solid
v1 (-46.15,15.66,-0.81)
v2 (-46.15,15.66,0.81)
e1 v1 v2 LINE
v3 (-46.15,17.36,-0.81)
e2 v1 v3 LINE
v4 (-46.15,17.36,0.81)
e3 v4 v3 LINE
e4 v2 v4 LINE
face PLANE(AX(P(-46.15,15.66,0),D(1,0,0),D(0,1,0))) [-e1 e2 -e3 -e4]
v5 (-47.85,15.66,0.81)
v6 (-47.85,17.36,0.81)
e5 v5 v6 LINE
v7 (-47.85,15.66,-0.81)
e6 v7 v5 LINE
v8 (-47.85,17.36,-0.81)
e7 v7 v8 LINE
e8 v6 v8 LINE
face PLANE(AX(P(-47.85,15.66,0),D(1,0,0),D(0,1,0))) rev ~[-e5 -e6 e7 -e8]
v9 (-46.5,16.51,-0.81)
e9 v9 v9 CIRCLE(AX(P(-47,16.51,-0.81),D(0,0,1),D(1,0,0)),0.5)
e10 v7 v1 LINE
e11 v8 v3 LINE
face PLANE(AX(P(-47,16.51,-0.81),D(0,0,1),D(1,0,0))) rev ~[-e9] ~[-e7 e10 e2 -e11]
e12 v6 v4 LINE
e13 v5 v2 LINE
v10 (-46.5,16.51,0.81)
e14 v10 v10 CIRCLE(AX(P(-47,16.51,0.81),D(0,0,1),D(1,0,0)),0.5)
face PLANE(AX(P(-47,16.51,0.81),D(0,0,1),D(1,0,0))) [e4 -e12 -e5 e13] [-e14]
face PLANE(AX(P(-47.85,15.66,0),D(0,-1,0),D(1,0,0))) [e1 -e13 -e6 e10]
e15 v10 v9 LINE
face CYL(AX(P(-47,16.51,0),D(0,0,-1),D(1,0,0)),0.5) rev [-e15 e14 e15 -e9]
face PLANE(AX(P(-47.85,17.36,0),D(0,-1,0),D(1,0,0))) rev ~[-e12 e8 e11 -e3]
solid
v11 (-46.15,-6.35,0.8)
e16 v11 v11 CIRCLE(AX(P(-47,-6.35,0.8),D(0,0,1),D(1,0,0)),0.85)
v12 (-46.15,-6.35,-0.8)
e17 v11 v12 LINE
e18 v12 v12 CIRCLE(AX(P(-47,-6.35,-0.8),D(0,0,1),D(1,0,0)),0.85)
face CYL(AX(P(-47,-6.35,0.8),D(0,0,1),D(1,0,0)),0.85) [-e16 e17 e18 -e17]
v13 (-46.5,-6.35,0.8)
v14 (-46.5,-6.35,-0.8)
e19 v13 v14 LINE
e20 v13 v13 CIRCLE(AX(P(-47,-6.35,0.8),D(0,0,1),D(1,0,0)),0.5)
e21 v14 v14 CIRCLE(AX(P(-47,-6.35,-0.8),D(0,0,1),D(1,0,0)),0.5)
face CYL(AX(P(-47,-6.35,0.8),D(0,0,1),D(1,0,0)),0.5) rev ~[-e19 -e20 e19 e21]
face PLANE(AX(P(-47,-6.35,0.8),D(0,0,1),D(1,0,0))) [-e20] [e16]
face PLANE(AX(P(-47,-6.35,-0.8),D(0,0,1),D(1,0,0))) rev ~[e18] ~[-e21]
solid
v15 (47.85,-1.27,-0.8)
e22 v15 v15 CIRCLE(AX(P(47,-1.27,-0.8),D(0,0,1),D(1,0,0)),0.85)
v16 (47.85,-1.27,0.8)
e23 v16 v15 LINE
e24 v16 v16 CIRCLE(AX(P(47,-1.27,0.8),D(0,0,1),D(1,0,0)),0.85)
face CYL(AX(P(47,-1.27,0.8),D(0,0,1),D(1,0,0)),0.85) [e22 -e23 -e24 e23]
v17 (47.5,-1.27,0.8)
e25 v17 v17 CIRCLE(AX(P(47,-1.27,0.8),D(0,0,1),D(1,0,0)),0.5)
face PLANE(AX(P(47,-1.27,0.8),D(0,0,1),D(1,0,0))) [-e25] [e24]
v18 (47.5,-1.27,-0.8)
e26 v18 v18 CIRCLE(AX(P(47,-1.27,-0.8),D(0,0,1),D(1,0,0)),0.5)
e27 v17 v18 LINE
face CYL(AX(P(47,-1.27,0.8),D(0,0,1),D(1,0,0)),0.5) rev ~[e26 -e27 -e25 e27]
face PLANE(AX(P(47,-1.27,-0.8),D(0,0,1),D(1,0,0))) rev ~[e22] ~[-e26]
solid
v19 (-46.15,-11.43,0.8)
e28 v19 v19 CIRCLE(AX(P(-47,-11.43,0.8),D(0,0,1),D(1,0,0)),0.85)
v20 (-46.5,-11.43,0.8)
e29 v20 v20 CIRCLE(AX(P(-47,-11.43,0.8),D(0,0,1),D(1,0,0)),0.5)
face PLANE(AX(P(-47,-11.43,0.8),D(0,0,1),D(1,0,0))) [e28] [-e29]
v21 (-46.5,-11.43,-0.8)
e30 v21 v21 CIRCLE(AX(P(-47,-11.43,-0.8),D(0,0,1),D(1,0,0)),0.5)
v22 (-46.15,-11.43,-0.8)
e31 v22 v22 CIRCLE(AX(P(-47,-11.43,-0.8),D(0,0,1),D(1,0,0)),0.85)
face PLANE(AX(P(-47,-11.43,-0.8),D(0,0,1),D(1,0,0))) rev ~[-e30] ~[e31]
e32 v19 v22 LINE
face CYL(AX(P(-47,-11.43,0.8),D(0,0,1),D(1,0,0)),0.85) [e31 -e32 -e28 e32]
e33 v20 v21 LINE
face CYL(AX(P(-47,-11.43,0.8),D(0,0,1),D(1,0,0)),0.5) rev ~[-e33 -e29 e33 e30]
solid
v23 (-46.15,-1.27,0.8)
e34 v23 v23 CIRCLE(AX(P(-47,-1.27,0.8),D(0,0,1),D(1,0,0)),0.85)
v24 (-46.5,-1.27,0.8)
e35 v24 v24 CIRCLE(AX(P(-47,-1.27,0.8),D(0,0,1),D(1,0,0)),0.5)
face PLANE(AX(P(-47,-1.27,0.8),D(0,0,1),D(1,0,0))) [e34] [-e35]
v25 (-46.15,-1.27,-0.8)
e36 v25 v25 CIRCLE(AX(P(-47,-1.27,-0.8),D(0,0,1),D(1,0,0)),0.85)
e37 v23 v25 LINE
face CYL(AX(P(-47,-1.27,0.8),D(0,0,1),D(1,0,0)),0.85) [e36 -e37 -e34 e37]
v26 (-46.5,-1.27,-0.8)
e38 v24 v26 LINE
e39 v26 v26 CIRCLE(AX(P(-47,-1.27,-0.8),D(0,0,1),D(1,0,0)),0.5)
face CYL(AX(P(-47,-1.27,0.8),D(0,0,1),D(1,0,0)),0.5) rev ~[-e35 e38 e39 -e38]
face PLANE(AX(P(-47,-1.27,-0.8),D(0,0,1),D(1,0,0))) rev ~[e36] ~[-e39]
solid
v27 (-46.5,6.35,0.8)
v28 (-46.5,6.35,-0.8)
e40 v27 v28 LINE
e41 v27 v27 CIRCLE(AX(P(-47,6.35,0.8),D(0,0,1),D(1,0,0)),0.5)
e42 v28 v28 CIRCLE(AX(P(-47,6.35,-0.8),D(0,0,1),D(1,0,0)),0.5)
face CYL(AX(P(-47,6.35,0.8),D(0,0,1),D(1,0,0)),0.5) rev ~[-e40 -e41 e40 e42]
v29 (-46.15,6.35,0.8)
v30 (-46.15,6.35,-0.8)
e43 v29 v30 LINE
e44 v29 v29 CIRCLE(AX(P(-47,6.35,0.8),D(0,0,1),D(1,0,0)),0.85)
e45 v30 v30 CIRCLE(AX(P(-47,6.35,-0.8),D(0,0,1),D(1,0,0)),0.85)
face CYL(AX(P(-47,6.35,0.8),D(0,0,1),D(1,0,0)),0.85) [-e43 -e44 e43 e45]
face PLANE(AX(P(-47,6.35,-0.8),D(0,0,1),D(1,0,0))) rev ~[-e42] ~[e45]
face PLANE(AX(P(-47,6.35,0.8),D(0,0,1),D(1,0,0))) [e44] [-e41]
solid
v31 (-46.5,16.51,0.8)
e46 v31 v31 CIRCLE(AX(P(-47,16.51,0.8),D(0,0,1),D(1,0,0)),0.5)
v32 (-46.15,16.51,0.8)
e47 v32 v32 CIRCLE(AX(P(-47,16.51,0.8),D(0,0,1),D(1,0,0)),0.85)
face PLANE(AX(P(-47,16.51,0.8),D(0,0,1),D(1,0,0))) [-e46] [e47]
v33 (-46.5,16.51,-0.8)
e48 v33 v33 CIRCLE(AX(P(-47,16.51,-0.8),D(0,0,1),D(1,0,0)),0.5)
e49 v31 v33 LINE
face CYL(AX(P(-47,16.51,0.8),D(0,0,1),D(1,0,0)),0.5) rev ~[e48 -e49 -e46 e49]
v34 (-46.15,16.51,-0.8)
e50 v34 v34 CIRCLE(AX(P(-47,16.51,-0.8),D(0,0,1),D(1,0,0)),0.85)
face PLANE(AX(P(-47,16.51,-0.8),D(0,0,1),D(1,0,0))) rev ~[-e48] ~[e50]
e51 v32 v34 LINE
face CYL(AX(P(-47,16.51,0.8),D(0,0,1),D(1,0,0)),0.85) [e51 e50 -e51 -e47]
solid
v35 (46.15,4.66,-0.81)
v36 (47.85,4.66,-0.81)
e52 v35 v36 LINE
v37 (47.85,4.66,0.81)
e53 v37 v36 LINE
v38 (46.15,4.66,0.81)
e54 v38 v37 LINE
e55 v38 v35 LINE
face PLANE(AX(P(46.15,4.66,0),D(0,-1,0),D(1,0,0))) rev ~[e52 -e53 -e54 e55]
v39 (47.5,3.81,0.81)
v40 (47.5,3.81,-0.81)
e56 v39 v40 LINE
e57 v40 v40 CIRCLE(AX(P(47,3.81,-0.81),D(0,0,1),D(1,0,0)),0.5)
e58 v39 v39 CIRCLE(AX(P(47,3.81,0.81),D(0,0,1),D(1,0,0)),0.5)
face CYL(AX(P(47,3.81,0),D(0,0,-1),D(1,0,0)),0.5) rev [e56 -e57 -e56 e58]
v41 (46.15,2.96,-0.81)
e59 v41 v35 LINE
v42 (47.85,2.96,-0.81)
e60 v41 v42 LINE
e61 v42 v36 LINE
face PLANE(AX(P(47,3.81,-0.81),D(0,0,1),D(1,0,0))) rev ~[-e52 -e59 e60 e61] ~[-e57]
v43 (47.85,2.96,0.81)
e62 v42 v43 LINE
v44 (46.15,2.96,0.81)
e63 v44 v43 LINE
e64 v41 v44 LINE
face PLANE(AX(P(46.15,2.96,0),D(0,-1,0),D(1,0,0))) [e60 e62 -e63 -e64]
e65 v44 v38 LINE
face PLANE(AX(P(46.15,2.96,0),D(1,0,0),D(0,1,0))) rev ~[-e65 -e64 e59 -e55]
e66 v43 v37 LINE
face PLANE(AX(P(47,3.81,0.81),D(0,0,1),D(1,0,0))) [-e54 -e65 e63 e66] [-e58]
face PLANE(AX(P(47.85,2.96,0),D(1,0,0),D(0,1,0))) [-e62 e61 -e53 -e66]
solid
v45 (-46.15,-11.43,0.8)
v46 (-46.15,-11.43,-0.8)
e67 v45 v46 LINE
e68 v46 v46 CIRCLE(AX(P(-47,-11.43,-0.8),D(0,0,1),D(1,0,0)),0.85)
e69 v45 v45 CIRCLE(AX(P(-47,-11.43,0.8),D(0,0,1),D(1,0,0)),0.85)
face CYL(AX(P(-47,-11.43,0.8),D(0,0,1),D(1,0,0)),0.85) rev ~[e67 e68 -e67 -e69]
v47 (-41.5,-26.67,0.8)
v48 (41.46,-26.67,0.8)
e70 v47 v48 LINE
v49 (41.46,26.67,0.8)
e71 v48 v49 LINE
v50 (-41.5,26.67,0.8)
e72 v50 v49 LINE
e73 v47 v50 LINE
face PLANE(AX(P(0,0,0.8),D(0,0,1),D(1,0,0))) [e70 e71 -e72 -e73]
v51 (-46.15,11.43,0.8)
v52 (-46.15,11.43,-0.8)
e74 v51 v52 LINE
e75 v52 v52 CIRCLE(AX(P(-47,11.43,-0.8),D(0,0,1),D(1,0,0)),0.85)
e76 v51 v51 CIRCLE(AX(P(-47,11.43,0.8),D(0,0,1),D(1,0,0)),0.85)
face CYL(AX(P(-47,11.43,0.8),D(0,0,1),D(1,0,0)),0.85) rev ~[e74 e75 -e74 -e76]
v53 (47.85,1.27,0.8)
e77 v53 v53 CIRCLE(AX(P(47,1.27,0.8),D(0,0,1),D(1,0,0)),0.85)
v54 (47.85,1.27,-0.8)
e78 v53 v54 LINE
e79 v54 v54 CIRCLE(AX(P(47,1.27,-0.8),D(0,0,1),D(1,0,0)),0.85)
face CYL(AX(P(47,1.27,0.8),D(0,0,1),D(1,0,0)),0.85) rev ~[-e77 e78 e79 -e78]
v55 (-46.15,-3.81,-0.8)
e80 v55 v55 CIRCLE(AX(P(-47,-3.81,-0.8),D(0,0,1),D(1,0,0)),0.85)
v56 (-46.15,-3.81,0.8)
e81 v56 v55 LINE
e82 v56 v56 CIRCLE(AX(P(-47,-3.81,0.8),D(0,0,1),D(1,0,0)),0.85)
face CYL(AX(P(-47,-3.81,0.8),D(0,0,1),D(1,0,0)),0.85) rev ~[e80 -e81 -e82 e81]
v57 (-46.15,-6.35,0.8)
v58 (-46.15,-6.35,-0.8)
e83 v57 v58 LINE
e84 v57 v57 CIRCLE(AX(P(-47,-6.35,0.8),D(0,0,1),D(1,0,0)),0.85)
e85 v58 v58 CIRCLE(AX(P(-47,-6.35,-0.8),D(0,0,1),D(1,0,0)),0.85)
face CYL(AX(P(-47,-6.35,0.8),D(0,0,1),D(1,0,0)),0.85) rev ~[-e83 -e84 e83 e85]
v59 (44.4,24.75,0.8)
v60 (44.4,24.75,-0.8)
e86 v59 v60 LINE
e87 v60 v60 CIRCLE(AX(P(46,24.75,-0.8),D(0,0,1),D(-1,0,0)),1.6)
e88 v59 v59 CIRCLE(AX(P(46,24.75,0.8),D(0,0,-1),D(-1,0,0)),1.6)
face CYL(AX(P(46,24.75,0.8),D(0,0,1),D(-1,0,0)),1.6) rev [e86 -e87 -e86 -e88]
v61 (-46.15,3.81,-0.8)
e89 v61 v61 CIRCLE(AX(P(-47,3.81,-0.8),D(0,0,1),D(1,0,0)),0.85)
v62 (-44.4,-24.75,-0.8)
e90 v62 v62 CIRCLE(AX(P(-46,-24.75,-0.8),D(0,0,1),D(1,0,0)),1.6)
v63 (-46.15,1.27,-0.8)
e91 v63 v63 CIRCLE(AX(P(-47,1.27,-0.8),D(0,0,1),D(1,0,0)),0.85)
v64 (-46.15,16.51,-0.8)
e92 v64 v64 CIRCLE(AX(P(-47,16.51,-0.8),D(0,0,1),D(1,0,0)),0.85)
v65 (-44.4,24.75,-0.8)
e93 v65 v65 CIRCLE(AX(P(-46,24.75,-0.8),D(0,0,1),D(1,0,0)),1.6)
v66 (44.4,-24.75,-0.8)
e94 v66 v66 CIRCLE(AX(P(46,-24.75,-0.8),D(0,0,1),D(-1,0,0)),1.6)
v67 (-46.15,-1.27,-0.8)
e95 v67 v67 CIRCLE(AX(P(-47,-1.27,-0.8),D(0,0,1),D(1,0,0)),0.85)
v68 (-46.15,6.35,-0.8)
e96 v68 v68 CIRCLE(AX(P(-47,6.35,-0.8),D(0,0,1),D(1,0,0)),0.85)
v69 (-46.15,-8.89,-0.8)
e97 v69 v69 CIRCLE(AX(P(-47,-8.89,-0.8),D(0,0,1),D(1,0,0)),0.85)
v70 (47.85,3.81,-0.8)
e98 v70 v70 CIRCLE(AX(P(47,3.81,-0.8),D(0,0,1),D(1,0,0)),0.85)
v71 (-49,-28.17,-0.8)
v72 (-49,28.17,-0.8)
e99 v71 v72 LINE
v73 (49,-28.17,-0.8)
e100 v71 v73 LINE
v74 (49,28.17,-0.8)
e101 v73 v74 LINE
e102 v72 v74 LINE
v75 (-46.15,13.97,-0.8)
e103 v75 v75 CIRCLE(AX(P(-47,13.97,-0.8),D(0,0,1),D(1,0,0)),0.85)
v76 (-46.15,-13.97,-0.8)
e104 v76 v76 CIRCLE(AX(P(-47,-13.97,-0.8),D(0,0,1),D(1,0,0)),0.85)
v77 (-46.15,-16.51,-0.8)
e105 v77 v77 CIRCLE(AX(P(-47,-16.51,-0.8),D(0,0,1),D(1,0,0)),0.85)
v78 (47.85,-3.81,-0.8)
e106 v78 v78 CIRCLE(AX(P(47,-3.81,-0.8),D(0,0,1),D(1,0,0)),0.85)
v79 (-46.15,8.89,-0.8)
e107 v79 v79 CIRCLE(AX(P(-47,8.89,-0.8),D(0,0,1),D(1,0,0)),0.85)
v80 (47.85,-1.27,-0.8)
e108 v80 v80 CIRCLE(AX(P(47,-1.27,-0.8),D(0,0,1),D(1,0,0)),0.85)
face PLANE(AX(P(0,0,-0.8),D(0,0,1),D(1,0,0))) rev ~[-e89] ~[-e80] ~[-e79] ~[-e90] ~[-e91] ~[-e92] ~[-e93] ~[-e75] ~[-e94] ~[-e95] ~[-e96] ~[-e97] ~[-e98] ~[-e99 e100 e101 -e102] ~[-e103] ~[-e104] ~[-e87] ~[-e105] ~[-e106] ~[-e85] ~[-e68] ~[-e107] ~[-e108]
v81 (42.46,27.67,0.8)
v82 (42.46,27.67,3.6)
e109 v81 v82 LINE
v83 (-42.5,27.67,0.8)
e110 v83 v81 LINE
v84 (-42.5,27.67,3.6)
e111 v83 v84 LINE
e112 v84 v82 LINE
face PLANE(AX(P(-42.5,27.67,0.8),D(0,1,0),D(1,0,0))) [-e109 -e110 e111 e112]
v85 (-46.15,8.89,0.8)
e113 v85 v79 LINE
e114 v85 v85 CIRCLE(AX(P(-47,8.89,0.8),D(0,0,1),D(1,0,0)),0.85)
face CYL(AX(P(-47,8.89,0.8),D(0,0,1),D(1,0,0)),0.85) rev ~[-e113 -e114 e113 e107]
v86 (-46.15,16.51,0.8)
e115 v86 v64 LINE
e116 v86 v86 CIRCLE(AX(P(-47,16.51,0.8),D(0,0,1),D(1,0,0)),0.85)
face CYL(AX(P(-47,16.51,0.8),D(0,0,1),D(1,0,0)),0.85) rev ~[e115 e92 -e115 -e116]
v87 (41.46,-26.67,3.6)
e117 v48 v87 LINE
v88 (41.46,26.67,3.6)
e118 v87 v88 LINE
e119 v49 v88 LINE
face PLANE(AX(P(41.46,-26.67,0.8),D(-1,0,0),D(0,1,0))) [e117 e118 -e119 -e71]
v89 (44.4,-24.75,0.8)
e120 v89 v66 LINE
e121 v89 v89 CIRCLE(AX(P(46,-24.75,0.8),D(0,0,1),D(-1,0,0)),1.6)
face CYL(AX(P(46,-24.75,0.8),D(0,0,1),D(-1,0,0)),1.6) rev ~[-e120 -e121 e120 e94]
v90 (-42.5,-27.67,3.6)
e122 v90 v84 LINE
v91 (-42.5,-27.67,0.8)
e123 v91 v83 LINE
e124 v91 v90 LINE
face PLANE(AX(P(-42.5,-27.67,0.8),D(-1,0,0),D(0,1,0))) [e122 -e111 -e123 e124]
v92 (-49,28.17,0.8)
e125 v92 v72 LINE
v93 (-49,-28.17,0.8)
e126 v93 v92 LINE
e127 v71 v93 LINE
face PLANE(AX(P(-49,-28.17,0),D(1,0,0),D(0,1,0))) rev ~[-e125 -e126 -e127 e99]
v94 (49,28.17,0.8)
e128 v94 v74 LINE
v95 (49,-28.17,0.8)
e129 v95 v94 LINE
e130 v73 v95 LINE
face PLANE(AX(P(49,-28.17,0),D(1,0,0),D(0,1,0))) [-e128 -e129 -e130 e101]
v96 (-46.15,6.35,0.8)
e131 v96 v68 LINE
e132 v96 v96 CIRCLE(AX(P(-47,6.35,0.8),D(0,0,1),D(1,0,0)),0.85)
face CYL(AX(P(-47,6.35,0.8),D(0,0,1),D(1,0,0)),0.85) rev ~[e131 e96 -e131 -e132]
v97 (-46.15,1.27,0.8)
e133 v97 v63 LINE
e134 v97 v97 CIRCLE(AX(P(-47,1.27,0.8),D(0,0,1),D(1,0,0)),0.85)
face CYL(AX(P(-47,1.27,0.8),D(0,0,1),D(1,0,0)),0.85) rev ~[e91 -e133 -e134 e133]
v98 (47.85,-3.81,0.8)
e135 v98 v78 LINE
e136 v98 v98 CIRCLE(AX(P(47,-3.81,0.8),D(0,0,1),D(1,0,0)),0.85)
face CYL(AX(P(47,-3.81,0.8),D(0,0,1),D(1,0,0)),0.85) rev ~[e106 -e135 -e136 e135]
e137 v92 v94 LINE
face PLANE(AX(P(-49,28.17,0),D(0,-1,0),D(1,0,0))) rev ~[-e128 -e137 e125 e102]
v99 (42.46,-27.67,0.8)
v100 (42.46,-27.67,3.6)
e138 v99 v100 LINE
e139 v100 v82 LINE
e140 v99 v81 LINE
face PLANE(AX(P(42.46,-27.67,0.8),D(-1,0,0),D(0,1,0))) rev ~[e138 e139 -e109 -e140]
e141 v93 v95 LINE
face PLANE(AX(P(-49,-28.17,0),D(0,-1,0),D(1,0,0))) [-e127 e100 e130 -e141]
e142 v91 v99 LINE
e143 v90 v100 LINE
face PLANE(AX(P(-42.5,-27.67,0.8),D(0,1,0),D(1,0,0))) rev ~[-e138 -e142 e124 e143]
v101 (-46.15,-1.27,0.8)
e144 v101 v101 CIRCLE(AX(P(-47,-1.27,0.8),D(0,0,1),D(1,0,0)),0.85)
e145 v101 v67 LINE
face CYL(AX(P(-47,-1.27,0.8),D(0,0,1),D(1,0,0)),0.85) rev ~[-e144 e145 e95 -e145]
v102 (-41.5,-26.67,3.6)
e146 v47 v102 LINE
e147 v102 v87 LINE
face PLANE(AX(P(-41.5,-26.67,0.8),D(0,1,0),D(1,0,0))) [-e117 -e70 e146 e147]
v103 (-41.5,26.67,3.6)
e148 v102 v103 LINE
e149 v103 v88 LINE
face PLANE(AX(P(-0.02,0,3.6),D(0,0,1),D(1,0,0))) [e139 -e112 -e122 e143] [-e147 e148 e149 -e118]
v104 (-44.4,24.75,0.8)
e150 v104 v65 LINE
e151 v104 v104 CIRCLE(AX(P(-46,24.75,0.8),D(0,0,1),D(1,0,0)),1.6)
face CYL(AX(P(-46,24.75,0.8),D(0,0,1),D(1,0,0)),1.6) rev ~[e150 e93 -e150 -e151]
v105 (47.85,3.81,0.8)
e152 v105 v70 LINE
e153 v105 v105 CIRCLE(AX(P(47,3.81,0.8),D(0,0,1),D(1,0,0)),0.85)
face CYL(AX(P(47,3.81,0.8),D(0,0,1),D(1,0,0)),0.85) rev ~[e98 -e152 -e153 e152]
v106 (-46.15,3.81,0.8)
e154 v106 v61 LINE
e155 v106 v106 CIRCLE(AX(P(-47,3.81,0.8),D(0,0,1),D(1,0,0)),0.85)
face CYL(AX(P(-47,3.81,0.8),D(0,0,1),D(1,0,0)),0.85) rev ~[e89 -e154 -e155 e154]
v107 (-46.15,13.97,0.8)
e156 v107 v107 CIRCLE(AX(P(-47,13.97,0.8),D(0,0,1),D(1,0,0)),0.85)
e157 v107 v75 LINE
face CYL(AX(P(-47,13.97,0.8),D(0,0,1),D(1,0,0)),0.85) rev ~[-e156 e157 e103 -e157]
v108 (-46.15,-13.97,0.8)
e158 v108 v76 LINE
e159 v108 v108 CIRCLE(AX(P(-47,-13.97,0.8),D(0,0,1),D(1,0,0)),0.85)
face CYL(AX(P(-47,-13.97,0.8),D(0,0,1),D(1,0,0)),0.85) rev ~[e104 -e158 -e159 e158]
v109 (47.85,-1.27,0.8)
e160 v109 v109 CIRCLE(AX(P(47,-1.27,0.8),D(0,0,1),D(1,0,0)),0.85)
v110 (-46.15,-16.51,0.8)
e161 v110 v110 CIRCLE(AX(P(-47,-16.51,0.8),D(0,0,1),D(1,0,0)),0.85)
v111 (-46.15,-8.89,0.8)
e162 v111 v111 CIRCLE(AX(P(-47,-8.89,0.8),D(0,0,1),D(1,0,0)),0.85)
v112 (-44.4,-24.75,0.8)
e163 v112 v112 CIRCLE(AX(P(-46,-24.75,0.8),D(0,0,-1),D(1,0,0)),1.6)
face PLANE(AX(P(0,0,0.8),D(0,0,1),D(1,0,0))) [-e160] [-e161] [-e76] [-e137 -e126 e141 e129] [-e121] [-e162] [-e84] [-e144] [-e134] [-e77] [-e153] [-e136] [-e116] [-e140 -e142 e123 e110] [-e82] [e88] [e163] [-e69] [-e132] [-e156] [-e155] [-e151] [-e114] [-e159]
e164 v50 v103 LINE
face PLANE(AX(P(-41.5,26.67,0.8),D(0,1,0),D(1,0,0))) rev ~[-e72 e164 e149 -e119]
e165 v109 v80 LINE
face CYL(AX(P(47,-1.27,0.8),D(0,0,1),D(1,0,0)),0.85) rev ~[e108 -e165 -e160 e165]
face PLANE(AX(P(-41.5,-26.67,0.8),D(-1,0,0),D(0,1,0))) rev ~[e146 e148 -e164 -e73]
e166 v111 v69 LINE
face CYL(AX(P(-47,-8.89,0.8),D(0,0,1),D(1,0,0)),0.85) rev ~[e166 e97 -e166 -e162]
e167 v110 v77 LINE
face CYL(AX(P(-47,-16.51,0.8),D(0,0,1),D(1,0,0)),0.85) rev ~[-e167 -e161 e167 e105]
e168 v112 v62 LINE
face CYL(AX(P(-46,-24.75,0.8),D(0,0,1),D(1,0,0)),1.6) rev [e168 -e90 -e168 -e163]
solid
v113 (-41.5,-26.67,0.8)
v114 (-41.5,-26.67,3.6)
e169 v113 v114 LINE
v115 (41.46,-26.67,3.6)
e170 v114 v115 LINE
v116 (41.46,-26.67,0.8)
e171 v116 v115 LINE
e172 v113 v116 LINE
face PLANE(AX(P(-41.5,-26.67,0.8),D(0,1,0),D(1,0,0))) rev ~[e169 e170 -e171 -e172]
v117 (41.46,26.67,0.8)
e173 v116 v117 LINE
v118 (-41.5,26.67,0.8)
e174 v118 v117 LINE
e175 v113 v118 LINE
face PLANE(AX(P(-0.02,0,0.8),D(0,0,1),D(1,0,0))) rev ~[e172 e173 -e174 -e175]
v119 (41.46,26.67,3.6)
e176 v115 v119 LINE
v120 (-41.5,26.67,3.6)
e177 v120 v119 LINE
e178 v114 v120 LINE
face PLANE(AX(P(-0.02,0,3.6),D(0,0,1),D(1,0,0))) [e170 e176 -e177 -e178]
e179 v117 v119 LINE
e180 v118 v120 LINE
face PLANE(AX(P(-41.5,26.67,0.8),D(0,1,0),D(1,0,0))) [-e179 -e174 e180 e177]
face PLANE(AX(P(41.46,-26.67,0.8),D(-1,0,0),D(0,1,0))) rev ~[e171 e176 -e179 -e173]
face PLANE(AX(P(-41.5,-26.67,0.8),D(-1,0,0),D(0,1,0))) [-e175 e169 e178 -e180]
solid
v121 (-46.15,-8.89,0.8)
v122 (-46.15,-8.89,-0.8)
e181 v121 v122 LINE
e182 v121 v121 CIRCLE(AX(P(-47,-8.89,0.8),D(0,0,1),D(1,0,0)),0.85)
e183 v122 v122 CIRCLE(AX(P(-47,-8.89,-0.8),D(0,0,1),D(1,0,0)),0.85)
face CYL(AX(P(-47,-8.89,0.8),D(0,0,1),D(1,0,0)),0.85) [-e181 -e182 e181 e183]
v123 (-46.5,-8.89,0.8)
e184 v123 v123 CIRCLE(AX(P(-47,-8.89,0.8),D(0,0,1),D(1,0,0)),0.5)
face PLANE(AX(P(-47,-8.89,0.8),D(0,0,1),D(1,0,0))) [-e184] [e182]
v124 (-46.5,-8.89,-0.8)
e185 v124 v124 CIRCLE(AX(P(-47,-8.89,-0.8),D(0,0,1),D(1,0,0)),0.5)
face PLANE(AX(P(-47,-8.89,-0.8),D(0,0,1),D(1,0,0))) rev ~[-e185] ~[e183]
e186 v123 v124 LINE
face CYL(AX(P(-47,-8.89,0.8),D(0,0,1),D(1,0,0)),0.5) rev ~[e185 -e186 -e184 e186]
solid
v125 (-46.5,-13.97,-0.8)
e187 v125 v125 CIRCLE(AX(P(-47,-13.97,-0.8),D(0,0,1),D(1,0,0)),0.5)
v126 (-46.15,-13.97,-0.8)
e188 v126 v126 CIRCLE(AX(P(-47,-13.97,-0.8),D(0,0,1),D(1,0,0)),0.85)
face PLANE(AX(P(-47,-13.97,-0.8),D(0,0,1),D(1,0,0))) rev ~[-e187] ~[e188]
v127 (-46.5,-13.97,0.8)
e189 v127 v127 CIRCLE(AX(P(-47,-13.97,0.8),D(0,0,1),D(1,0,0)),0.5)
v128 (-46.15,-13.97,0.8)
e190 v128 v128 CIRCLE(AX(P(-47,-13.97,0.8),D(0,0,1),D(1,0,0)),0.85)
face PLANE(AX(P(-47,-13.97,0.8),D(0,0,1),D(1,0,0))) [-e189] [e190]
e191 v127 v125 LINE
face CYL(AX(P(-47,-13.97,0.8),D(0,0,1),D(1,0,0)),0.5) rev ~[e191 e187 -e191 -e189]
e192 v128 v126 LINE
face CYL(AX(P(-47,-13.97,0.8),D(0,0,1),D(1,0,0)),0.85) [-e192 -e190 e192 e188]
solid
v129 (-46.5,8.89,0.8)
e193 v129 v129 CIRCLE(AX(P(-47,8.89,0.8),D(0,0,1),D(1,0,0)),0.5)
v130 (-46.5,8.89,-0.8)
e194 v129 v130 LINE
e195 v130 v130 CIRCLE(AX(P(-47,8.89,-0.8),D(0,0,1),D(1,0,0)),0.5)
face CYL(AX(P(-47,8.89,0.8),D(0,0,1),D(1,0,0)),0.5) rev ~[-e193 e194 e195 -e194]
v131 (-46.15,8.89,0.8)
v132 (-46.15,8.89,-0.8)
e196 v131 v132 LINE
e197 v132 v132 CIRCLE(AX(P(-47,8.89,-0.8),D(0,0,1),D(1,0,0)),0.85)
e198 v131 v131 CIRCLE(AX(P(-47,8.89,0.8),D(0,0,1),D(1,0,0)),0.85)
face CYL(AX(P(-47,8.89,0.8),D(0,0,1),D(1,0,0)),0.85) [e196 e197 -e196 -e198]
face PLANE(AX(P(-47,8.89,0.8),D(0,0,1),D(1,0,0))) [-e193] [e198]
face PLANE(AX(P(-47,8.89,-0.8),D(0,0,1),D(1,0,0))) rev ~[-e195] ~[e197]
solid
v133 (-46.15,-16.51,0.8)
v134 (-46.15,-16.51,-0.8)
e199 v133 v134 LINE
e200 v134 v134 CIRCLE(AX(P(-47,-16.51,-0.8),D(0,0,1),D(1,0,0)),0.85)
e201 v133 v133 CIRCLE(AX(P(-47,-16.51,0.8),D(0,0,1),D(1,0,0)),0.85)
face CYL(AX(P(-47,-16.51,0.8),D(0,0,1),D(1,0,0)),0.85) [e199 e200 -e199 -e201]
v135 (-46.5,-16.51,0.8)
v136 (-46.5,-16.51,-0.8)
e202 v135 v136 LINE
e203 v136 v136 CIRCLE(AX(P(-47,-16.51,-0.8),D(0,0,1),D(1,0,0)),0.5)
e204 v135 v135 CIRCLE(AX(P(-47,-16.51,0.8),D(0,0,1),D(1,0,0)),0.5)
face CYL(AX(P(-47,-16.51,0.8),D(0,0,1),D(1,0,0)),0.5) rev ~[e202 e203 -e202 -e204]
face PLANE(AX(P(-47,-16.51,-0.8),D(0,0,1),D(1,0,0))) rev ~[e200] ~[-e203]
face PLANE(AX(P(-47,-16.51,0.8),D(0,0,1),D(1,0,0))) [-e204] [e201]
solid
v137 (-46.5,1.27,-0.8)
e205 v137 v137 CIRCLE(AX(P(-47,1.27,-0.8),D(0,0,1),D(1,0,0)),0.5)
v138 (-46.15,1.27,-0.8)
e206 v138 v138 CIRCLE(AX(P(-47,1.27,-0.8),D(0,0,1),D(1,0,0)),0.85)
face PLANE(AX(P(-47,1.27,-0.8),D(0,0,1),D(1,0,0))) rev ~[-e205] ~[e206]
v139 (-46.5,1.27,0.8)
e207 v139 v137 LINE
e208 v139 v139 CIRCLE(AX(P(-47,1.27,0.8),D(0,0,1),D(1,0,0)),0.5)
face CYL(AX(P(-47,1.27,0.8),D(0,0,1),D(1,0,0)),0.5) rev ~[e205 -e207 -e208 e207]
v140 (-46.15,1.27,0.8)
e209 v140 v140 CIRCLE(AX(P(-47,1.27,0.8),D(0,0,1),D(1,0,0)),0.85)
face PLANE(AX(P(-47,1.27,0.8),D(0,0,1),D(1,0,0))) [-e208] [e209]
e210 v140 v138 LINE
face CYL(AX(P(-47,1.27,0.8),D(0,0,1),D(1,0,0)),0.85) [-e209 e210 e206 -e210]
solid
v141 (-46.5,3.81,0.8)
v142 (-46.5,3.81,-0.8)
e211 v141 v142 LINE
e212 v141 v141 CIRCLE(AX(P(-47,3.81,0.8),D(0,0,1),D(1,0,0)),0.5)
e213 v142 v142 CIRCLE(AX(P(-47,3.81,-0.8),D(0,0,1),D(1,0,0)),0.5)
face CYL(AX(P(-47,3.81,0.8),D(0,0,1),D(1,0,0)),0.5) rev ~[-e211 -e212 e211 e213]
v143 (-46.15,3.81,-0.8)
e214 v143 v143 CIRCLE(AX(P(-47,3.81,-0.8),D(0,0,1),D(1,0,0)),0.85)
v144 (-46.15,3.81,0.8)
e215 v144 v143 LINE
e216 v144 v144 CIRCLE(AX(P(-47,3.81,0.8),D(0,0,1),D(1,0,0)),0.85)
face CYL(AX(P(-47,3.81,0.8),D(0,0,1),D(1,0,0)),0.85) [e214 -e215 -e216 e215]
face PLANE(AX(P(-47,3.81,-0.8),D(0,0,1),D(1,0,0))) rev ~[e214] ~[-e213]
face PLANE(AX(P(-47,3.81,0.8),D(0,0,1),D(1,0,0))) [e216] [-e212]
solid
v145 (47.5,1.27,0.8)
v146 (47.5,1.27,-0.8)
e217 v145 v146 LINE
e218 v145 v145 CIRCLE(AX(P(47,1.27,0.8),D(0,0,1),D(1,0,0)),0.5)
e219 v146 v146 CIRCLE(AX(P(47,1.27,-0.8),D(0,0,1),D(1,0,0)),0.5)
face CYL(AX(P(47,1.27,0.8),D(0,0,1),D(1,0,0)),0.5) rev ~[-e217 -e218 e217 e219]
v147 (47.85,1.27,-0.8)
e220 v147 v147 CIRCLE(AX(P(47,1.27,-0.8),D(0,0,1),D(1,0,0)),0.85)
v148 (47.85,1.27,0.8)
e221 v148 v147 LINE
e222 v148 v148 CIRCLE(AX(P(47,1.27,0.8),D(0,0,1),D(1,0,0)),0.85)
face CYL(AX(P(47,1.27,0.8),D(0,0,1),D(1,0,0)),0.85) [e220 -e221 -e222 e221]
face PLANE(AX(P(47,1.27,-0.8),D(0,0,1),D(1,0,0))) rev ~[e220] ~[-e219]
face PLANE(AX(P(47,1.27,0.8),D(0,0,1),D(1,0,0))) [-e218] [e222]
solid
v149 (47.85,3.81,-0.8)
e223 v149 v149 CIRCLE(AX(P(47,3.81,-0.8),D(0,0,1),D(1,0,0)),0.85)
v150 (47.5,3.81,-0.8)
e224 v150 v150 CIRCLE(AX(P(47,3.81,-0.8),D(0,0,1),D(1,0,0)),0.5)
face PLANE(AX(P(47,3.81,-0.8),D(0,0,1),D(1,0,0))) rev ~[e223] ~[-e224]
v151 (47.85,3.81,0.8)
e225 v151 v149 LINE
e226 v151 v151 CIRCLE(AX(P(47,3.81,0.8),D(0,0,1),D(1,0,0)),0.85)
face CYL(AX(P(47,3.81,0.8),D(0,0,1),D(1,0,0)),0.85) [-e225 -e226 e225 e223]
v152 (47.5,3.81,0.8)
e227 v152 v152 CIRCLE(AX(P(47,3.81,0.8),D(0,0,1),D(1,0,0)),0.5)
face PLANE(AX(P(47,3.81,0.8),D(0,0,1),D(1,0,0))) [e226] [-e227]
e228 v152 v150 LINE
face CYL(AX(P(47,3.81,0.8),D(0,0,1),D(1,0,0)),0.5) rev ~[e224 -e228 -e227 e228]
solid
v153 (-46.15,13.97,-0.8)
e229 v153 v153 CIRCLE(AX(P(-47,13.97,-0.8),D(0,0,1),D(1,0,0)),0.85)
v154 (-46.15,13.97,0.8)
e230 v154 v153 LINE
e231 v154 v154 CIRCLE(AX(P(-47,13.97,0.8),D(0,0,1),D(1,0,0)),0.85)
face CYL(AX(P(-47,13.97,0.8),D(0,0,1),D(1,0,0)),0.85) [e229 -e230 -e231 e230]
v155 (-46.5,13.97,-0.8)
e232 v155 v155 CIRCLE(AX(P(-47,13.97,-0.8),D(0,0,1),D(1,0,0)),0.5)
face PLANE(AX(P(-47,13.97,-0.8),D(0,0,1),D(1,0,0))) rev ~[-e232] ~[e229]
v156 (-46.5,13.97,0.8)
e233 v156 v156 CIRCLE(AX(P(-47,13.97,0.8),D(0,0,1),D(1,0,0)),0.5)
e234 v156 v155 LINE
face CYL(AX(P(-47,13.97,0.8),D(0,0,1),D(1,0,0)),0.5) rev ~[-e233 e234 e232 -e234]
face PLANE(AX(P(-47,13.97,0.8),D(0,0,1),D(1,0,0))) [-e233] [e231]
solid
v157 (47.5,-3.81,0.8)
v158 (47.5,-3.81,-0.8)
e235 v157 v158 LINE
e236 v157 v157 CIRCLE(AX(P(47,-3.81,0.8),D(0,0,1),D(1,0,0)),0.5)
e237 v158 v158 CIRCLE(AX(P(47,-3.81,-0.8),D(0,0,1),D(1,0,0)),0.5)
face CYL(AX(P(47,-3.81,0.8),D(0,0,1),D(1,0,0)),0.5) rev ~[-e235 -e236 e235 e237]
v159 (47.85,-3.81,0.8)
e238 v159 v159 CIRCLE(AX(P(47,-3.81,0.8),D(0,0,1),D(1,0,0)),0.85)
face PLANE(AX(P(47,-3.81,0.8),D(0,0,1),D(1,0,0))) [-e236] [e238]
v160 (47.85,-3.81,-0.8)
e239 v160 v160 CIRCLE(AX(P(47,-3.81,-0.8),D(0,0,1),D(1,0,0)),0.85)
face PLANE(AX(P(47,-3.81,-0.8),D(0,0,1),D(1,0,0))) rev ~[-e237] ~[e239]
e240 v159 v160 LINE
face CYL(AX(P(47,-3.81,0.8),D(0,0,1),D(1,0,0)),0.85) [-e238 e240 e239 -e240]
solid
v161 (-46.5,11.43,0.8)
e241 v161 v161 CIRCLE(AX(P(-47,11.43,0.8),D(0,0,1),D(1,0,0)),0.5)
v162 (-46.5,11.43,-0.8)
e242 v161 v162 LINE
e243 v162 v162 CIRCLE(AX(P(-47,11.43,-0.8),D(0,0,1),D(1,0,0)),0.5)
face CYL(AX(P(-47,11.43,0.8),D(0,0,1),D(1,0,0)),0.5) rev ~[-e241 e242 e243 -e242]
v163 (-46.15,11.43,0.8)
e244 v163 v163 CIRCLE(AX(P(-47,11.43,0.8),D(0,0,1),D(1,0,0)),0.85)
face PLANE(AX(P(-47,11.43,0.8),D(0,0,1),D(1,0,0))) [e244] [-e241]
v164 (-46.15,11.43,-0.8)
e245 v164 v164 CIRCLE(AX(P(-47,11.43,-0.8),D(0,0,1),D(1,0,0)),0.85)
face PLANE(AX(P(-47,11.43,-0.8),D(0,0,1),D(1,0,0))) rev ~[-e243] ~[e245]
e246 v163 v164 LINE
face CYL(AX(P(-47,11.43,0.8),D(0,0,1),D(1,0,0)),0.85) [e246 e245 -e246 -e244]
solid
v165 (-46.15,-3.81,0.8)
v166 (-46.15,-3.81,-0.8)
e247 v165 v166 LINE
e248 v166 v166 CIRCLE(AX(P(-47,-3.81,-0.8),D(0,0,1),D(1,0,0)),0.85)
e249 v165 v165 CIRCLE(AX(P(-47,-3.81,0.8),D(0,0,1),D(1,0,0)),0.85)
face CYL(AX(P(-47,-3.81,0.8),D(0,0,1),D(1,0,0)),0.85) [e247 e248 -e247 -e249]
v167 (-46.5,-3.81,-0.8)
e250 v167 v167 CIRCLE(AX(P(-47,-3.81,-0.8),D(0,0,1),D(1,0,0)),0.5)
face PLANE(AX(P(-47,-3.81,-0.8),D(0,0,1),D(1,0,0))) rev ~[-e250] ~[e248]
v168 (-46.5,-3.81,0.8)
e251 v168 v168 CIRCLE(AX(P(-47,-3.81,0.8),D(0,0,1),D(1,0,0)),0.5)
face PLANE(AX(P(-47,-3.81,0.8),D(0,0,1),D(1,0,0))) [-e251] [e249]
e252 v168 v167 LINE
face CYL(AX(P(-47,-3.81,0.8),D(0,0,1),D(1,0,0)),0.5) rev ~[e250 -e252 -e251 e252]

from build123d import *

# Parameters (mm, degrees)
SKETCH2_W               = 98
SKETCH2_H               = 56.34
BOSS_EXTRUDE1_DEPTH     = 0.8
SKETCH3_R               = 1.6
CUT_EXTRUDE1_DEPTH      = 2.6
MIRROR2_COPY_1_SKETCH_R = 1.6
MIRROR2_COPY_1_DEPTH    = 2.6
SKETCH5_W               = 84.96
SKETCH5_H               = 55.34
SKETCH5_W_2             = 82.96
SKETCH5_H_2             = 53.34
BOSS_EXTRUDE2_DEPTH     = 2.8
SKETCH6_W               = 82.96
SKETCH6_H               = 53.34
BOSS_EXTRUDE3_DEPTH     = 2.8
SKETCH9_R               = 0.85
CUT_EXTRUDE2_DEPTH      = 2.6
SKETCH10_R              = 0.85
SKETCH10_R_2            = 0.5
BOSS_EXTRUDE4_DEPTH     = 1.6
BOSS_EXTRUDE4_2_DEPTH   = 1.6
BOSS_EXTRUDE4_3_DEPTH   = 1.6
BOSS_EXTRUDE4_4_DEPTH   = 1.6
BOSS_EXTRUDE4_5_DEPTH   = 1.6
BOSS_EXTRUDE4_6_DEPTH   = 1.6
BOSS_EXTRUDE4_7_DEPTH   = 1.6
BOSS_EXTRUDE4_8_DEPTH   = 1.6
BOSS_EXTRUDE4_9_DEPTH   = 1.6
BOSS_EXTRUDE4_10_DEPTH  = 1.6
BOSS_EXTRUDE4_11_DEPTH  = 1.6
BOSS_EXTRUDE4_12_DEPTH  = 1.6
BOSS_EXTRUDE4_13_DEPTH  = 1.6
BOSS_EXTRUDE4_14_DEPTH  = 1.6
SKETCH11_R              = 0.85
CUT_EXTRUDE3_DEPTH      = 2.6
SKETCH12_R              = 0.85
SKETCH12_R_2            = 0.5
BOSS_EXTRUDE5_DEPTH     = 1.6
BOSS_EXTRUDE5_2_DEPTH   = 1.6
BOSS_EXTRUDE5_3_DEPTH   = 1.6
BOSS_EXTRUDE5_4_DEPTH   = 1.6
BOSS_EXTRUDE7_START     = -0.8
SKETCH13_W              = 1.7
SKETCH13_H              = 1.7
SKETCH13_R              = 0.5
BOSS_EXTRUDE7_DEPTH     = 0.81
BOSS_EXTRUDE8_START     = -0.8
SKETCH15_W              = 1.7
SKETCH15_H              = 1.7
SKETCH15_R              = 0.5
BOSS_EXTRUDE8_DEPTH     = 0.81


with BuildPart() as part:
    # Sketch2 → Boss-Extrude1 (new body, symmetric)
    with BuildSketch(Plane.XY):
        Rectangle(SKETCH2_W, SKETCH2_H)
    extrude(amount=BOSS_EXTRUDE1_DEPTH, both=True)

    # Sketch3 → Cut-Extrude1 (cut, through all)
    with BuildSketch(Plane.XY.offset(0.8)):
        with Locations((-46, 24.75)):
            Circle(SKETCH3_R)
    cut_extrude1 = extrude(amount=-CUT_EXTRUDE1_DEPTH, mode=Mode.SUBTRACT)

    # Mirror1: Cut-Extrude1 across plane
    add(cut_extrude1.mirror(Plane(origin=(0, 0, 0), x_dir=(0, 0, 1), z_dir=(1, 0, 0))), mode=Mode.SUBTRACT)

    # Mirror2: Cut-Extrude1 across plane
    add(cut_extrude1.mirror(Plane.ZX), mode=Mode.SUBTRACT)

    # Mirror2 copy 1 sketch → Mirror2 copy 1 (cut, through all)
    with BuildSketch(Plane(origin=(0, 0, 0.8), x_dir=(-1, 0, 0), z_dir=(0, 0, 1))):
        with Locations((-46, 24.75)):
            Circle(MIRROR2_COPY_1_SKETCH_R)
    extrude(amount=-MIRROR2_COPY_1_DEPTH, mode=Mode.SUBTRACT)

    # Sketch5 → Boss-Extrude2 (add)
    with BuildSketch(Plane.XY.offset(0.8)):
        with Locations((-0.02, 0)):
            Rectangle(SKETCH5_W, SKETCH5_H)
        with Locations((-0.02, 0)):
            Rectangle(SKETCH5_W_2, SKETCH5_H_2, mode=Mode.SUBTRACT)
    extrude(amount=BOSS_EXTRUDE2_DEPTH)

    # Sketch9 → Cut-Extrude2 (cut, through all)
    with BuildSketch(Plane.XY.offset(0.8)):
        with Locations((-47, 16.51)):
            Circle(SKETCH9_R)
        with Locations((-47, 13.97)):
            Circle(SKETCH9_R)
        with Locations((-47, 11.43)):
            Circle(SKETCH9_R)
        with Locations((-47, 8.89)):
            Circle(SKETCH9_R)
        with Locations((-47, 6.35)):
            Circle(SKETCH9_R)
        with Locations((-47, 3.81)):
            Circle(SKETCH9_R)
        with Locations((-47, 1.27)):
            Circle(SKETCH9_R)
        with Locations((-47, -1.27)):
            Circle(SKETCH9_R)
        with Locations((-47, -3.81)):
            Circle(SKETCH9_R)
        with Locations((-47, -6.35)):
            Circle(SKETCH9_R)
        with Locations((-47, -8.89)):
            Circle(SKETCH9_R)
        with Locations((-47, -11.43)):
            Circle(SKETCH9_R)
        with Locations((-47, -13.97)):
            Circle(SKETCH9_R)
        with Locations((-47, -16.51)):
            Circle(SKETCH9_R)
    extrude(amount=-CUT_EXTRUDE2_DEPTH, mode=Mode.SUBTRACT)

    # Sketch11 → Cut-Extrude3 (cut, through all)
    with BuildSketch(Plane.XY.offset(0.8)):
        with Locations((47, 3.81)):
            Circle(SKETCH11_R)
        with Locations((47, 1.27)):
            Circle(SKETCH11_R)
        with Locations((47, -1.27)):
            Circle(SKETCH11_R)
        with Locations((47, -3.81)):
            Circle(SKETCH11_R)
    extrude(amount=-CUT_EXTRUDE3_DEPTH, mode=Mode.SUBTRACT)


with BuildPart() as body_2:
    # Sketch6 → Boss-Extrude3 (new body)
    with BuildSketch(Plane.XY.offset(0.8)):
        with Locations((-0.02, 0)):
            Rectangle(SKETCH6_W, SKETCH6_H)
    extrude(amount=BOSS_EXTRUDE3_DEPTH)


with BuildPart() as body_3:
    # Sketch10 → Boss-Extrude4 (new body)
    with BuildSketch(Plane.XY.offset(0.8)):
        with Locations((-47, 16.51)):
            Circle(SKETCH10_R)
        with Locations((-47, 16.51)):
            Circle(SKETCH10_R_2, mode=Mode.SUBTRACT)
    extrude(amount=-BOSS_EXTRUDE4_DEPTH)


with BuildPart() as body_4:
    # Sketch10 → Boss-Extrude4 2 (new body)
    with BuildSketch(Plane.XY.offset(0.8)):
        with Locations((-47, 13.97)):
            Circle(SKETCH10_R)
        with Locations((-47, 13.97)):
            Circle(SKETCH10_R_2, mode=Mode.SUBTRACT)
    extrude(amount=-BOSS_EXTRUDE4_2_DEPTH)


with BuildPart() as body_5:
    # Sketch10 → Boss-Extrude4 3 (new body)
    with BuildSketch(Plane.XY.offset(0.8)):
        with Locations((-47, 11.43)):
            Circle(SKETCH10_R)
        with Locations((-47, 11.43)):
            Circle(SKETCH10_R_2, mode=Mode.SUBTRACT)
    extrude(amount=-BOSS_EXTRUDE4_3_DEPTH)


with BuildPart() as body_6:
    # Sketch10 → Boss-Extrude4 4 (new body)
    with BuildSketch(Plane.XY.offset(0.8)):
        with Locations((-47, 8.89)):
            Circle(SKETCH10_R)
        with Locations((-47, 8.89)):
            Circle(SKETCH10_R_2, mode=Mode.SUBTRACT)
    extrude(amount=-BOSS_EXTRUDE4_4_DEPTH)


with BuildPart() as body_7:
    # Sketch10 → Boss-Extrude4 5 (new body)
    with BuildSketch(Plane.XY.offset(0.8)):
        with Locations((-47, 6.35)):
            Circle(SKETCH10_R)
        with Locations((-47, 6.35)):
            Circle(SKETCH10_R_2, mode=Mode.SUBTRACT)
    extrude(amount=-BOSS_EXTRUDE4_5_DEPTH)


with BuildPart() as body_8:
    # Sketch10 → Boss-Extrude4 6 (new body)
    with BuildSketch(Plane.XY.offset(0.8)):
        with Locations((-47, 3.81)):
            Circle(SKETCH10_R)
        with Locations((-47, 3.81)):
            Circle(SKETCH10_R_2, mode=Mode.SUBTRACT)
    extrude(amount=-BOSS_EXTRUDE4_6_DEPTH)


with BuildPart() as body_9:
    # Sketch10 → Boss-Extrude4 7 (new body)
    with BuildSketch(Plane.XY.offset(0.8)):
        with Locations((-47, 1.27)):
            Circle(SKETCH10_R)
        with Locations((-47, 1.27)):
            Circle(SKETCH10_R_2, mode=Mode.SUBTRACT)
    extrude(amount=-BOSS_EXTRUDE4_7_DEPTH)


with BuildPart() as body_10:
    # Sketch10 → Boss-Extrude4 8 (new body)
    with BuildSketch(Plane.XY.offset(0.8)):
        with Locations((-47, -1.27)):
            Circle(SKETCH10_R)
        with Locations((-47, -1.27)):
            Circle(SKETCH10_R_2, mode=Mode.SUBTRACT)
    extrude(amount=-BOSS_EXTRUDE4_8_DEPTH)


with BuildPart() as body_11:
    # Sketch10 → Boss-Extrude4 9 (new body)
    with BuildSketch(Plane.XY.offset(0.8)):
        with Locations((-47, -3.81)):
            Circle(SKETCH10_R)
        with Locations((-47, -3.81)):
            Circle(SKETCH10_R_2, mode=Mode.SUBTRACT)
    extrude(amount=-BOSS_EXTRUDE4_9_DEPTH)


with BuildPart() as body_12:
    # Sketch10 → Boss-Extrude4 10 (new body)
    with BuildSketch(Plane.XY.offset(0.8)):
        with Locations((-47, -6.35)):
            Circle(SKETCH10_R)
        with Locations((-47, -6.35)):
            Circle(SKETCH10_R_2, mode=Mode.SUBTRACT)
    extrude(amount=-BOSS_EXTRUDE4_10_DEPTH)


with BuildPart() as body_13:
    # Sketch10 → Boss-Extrude4 11 (new body)
    with BuildSketch(Plane.XY.offset(0.8)):
        with Locations((-47, -8.89)):
            Circle(SKETCH10_R)
        with Locations((-47, -8.89)):
            Circle(SKETCH10_R_2, mode=Mode.SUBTRACT)
    extrude(amount=-BOSS_EXTRUDE4_11_DEPTH)


with BuildPart() as body_14:
    # Sketch10 → Boss-Extrude4 12 (new body)
    with BuildSketch(Plane.XY.offset(0.8)):
        with Locations((-47, -11.43)):
            Circle(SKETCH10_R)
        with Locations((-47, -11.43)):
            Circle(SKETCH10_R_2, mode=Mode.SUBTRACT)
    extrude(amount=-BOSS_EXTRUDE4_12_DEPTH)


with BuildPart() as body_15:
    # Sketch10 → Boss-Extrude4 13 (new body)
    with BuildSketch(Plane.XY.offset(0.8)):
        with Locations((-47, -13.97)):
            Circle(SKETCH10_R)
        with Locations((-47, -13.97)):
            Circle(SKETCH10_R_2, mode=Mode.SUBTRACT)
    extrude(amount=-BOSS_EXTRUDE4_13_DEPTH)


with BuildPart() as body_16:
    # Sketch10 → Boss-Extrude4 14 (new body)
    with BuildSketch(Plane.XY.offset(0.8)):
        with Locations((-47, -16.51)):
            Circle(SKETCH10_R)
        with Locations((-47, -16.51)):
            Circle(SKETCH10_R_2, mode=Mode.SUBTRACT)
    extrude(amount=-BOSS_EXTRUDE4_14_DEPTH)


with BuildPart() as body_17:
    # Sketch12 → Boss-Extrude5 (new body)
    with BuildSketch(Plane.XY.offset(0.8)):
        with Locations((47, 3.81)):
            Circle(SKETCH12_R)
        with Locations((47, 3.81)):
            Circle(SKETCH12_R_2, mode=Mode.SUBTRACT)
    extrude(amount=-BOSS_EXTRUDE5_DEPTH)


with BuildPart() as body_18:
    # Sketch12 → Boss-Extrude5 2 (new body)
    with BuildSketch(Plane.XY.offset(0.8)):
        with Locations((47, 1.27)):
            Circle(SKETCH12_R)
        with Locations((47, 1.27)):
            Circle(SKETCH12_R_2, mode=Mode.SUBTRACT)
    extrude(amount=-BOSS_EXTRUDE5_2_DEPTH)


with BuildPart() as body_19:
    # Sketch12 → Boss-Extrude5 3 (new body)
    with BuildSketch(Plane.XY.offset(0.8)):
        with Locations((47, -1.27)):
            Circle(SKETCH12_R)
        with Locations((47, -1.27)):
            Circle(SKETCH12_R_2, mode=Mode.SUBTRACT)
    extrude(amount=-BOSS_EXTRUDE5_3_DEPTH)


with BuildPart() as body_20:
    # Sketch12 → Boss-Extrude5 4 (new body)
    with BuildSketch(Plane.XY.offset(0.8)):
        with Locations((47, -3.81)):
            Circle(SKETCH12_R)
        with Locations((47, -3.81)):
            Circle(SKETCH12_R_2, mode=Mode.SUBTRACT)
    extrude(amount=-BOSS_EXTRUDE5_4_DEPTH)


with BuildPart() as body_21:
    # Sketch13 → Boss-Extrude7 (new body, symmetric)
    with BuildSketch(Plane.XY.offset(0.8).offset(BOSS_EXTRUDE7_START)):
        with Locations((-47, 16.51)):
            Rectangle(SKETCH13_W, SKETCH13_H)
        with Locations((-47, 16.51)):
            Circle(SKETCH13_R, mode=Mode.SUBTRACT)
    extrude(amount=BOSS_EXTRUDE7_DEPTH, both=True)


with BuildPart() as body_22:
    # Sketch15 → Boss-Extrude8 (new body, symmetric)
    with BuildSketch(Plane.XY.offset(0.8).offset(BOSS_EXTRUDE8_START)):
        with Locations((47, 3.81)):
            Rectangle(SKETCH15_W, SKETCH15_H)
        with Locations((47, 3.81)):
            Circle(SKETCH15_R, mode=Mode.SUBTRACT)
    extrude(amount=BOSS_EXTRUDE8_DEPTH, both=True)


solid = Compound([part.part, body_2.part, body_3.part, body_4.part, body_5.part, body_6.part, body_7.part, body_8.part, body_9.part, body_10.part, body_11.part, body_12.part, body_13.part, body_14.part, body_15.part, body_16.part, body_17.part, body_18.part, body_19.part, body_20.part, body_21.part, body_22.part])
